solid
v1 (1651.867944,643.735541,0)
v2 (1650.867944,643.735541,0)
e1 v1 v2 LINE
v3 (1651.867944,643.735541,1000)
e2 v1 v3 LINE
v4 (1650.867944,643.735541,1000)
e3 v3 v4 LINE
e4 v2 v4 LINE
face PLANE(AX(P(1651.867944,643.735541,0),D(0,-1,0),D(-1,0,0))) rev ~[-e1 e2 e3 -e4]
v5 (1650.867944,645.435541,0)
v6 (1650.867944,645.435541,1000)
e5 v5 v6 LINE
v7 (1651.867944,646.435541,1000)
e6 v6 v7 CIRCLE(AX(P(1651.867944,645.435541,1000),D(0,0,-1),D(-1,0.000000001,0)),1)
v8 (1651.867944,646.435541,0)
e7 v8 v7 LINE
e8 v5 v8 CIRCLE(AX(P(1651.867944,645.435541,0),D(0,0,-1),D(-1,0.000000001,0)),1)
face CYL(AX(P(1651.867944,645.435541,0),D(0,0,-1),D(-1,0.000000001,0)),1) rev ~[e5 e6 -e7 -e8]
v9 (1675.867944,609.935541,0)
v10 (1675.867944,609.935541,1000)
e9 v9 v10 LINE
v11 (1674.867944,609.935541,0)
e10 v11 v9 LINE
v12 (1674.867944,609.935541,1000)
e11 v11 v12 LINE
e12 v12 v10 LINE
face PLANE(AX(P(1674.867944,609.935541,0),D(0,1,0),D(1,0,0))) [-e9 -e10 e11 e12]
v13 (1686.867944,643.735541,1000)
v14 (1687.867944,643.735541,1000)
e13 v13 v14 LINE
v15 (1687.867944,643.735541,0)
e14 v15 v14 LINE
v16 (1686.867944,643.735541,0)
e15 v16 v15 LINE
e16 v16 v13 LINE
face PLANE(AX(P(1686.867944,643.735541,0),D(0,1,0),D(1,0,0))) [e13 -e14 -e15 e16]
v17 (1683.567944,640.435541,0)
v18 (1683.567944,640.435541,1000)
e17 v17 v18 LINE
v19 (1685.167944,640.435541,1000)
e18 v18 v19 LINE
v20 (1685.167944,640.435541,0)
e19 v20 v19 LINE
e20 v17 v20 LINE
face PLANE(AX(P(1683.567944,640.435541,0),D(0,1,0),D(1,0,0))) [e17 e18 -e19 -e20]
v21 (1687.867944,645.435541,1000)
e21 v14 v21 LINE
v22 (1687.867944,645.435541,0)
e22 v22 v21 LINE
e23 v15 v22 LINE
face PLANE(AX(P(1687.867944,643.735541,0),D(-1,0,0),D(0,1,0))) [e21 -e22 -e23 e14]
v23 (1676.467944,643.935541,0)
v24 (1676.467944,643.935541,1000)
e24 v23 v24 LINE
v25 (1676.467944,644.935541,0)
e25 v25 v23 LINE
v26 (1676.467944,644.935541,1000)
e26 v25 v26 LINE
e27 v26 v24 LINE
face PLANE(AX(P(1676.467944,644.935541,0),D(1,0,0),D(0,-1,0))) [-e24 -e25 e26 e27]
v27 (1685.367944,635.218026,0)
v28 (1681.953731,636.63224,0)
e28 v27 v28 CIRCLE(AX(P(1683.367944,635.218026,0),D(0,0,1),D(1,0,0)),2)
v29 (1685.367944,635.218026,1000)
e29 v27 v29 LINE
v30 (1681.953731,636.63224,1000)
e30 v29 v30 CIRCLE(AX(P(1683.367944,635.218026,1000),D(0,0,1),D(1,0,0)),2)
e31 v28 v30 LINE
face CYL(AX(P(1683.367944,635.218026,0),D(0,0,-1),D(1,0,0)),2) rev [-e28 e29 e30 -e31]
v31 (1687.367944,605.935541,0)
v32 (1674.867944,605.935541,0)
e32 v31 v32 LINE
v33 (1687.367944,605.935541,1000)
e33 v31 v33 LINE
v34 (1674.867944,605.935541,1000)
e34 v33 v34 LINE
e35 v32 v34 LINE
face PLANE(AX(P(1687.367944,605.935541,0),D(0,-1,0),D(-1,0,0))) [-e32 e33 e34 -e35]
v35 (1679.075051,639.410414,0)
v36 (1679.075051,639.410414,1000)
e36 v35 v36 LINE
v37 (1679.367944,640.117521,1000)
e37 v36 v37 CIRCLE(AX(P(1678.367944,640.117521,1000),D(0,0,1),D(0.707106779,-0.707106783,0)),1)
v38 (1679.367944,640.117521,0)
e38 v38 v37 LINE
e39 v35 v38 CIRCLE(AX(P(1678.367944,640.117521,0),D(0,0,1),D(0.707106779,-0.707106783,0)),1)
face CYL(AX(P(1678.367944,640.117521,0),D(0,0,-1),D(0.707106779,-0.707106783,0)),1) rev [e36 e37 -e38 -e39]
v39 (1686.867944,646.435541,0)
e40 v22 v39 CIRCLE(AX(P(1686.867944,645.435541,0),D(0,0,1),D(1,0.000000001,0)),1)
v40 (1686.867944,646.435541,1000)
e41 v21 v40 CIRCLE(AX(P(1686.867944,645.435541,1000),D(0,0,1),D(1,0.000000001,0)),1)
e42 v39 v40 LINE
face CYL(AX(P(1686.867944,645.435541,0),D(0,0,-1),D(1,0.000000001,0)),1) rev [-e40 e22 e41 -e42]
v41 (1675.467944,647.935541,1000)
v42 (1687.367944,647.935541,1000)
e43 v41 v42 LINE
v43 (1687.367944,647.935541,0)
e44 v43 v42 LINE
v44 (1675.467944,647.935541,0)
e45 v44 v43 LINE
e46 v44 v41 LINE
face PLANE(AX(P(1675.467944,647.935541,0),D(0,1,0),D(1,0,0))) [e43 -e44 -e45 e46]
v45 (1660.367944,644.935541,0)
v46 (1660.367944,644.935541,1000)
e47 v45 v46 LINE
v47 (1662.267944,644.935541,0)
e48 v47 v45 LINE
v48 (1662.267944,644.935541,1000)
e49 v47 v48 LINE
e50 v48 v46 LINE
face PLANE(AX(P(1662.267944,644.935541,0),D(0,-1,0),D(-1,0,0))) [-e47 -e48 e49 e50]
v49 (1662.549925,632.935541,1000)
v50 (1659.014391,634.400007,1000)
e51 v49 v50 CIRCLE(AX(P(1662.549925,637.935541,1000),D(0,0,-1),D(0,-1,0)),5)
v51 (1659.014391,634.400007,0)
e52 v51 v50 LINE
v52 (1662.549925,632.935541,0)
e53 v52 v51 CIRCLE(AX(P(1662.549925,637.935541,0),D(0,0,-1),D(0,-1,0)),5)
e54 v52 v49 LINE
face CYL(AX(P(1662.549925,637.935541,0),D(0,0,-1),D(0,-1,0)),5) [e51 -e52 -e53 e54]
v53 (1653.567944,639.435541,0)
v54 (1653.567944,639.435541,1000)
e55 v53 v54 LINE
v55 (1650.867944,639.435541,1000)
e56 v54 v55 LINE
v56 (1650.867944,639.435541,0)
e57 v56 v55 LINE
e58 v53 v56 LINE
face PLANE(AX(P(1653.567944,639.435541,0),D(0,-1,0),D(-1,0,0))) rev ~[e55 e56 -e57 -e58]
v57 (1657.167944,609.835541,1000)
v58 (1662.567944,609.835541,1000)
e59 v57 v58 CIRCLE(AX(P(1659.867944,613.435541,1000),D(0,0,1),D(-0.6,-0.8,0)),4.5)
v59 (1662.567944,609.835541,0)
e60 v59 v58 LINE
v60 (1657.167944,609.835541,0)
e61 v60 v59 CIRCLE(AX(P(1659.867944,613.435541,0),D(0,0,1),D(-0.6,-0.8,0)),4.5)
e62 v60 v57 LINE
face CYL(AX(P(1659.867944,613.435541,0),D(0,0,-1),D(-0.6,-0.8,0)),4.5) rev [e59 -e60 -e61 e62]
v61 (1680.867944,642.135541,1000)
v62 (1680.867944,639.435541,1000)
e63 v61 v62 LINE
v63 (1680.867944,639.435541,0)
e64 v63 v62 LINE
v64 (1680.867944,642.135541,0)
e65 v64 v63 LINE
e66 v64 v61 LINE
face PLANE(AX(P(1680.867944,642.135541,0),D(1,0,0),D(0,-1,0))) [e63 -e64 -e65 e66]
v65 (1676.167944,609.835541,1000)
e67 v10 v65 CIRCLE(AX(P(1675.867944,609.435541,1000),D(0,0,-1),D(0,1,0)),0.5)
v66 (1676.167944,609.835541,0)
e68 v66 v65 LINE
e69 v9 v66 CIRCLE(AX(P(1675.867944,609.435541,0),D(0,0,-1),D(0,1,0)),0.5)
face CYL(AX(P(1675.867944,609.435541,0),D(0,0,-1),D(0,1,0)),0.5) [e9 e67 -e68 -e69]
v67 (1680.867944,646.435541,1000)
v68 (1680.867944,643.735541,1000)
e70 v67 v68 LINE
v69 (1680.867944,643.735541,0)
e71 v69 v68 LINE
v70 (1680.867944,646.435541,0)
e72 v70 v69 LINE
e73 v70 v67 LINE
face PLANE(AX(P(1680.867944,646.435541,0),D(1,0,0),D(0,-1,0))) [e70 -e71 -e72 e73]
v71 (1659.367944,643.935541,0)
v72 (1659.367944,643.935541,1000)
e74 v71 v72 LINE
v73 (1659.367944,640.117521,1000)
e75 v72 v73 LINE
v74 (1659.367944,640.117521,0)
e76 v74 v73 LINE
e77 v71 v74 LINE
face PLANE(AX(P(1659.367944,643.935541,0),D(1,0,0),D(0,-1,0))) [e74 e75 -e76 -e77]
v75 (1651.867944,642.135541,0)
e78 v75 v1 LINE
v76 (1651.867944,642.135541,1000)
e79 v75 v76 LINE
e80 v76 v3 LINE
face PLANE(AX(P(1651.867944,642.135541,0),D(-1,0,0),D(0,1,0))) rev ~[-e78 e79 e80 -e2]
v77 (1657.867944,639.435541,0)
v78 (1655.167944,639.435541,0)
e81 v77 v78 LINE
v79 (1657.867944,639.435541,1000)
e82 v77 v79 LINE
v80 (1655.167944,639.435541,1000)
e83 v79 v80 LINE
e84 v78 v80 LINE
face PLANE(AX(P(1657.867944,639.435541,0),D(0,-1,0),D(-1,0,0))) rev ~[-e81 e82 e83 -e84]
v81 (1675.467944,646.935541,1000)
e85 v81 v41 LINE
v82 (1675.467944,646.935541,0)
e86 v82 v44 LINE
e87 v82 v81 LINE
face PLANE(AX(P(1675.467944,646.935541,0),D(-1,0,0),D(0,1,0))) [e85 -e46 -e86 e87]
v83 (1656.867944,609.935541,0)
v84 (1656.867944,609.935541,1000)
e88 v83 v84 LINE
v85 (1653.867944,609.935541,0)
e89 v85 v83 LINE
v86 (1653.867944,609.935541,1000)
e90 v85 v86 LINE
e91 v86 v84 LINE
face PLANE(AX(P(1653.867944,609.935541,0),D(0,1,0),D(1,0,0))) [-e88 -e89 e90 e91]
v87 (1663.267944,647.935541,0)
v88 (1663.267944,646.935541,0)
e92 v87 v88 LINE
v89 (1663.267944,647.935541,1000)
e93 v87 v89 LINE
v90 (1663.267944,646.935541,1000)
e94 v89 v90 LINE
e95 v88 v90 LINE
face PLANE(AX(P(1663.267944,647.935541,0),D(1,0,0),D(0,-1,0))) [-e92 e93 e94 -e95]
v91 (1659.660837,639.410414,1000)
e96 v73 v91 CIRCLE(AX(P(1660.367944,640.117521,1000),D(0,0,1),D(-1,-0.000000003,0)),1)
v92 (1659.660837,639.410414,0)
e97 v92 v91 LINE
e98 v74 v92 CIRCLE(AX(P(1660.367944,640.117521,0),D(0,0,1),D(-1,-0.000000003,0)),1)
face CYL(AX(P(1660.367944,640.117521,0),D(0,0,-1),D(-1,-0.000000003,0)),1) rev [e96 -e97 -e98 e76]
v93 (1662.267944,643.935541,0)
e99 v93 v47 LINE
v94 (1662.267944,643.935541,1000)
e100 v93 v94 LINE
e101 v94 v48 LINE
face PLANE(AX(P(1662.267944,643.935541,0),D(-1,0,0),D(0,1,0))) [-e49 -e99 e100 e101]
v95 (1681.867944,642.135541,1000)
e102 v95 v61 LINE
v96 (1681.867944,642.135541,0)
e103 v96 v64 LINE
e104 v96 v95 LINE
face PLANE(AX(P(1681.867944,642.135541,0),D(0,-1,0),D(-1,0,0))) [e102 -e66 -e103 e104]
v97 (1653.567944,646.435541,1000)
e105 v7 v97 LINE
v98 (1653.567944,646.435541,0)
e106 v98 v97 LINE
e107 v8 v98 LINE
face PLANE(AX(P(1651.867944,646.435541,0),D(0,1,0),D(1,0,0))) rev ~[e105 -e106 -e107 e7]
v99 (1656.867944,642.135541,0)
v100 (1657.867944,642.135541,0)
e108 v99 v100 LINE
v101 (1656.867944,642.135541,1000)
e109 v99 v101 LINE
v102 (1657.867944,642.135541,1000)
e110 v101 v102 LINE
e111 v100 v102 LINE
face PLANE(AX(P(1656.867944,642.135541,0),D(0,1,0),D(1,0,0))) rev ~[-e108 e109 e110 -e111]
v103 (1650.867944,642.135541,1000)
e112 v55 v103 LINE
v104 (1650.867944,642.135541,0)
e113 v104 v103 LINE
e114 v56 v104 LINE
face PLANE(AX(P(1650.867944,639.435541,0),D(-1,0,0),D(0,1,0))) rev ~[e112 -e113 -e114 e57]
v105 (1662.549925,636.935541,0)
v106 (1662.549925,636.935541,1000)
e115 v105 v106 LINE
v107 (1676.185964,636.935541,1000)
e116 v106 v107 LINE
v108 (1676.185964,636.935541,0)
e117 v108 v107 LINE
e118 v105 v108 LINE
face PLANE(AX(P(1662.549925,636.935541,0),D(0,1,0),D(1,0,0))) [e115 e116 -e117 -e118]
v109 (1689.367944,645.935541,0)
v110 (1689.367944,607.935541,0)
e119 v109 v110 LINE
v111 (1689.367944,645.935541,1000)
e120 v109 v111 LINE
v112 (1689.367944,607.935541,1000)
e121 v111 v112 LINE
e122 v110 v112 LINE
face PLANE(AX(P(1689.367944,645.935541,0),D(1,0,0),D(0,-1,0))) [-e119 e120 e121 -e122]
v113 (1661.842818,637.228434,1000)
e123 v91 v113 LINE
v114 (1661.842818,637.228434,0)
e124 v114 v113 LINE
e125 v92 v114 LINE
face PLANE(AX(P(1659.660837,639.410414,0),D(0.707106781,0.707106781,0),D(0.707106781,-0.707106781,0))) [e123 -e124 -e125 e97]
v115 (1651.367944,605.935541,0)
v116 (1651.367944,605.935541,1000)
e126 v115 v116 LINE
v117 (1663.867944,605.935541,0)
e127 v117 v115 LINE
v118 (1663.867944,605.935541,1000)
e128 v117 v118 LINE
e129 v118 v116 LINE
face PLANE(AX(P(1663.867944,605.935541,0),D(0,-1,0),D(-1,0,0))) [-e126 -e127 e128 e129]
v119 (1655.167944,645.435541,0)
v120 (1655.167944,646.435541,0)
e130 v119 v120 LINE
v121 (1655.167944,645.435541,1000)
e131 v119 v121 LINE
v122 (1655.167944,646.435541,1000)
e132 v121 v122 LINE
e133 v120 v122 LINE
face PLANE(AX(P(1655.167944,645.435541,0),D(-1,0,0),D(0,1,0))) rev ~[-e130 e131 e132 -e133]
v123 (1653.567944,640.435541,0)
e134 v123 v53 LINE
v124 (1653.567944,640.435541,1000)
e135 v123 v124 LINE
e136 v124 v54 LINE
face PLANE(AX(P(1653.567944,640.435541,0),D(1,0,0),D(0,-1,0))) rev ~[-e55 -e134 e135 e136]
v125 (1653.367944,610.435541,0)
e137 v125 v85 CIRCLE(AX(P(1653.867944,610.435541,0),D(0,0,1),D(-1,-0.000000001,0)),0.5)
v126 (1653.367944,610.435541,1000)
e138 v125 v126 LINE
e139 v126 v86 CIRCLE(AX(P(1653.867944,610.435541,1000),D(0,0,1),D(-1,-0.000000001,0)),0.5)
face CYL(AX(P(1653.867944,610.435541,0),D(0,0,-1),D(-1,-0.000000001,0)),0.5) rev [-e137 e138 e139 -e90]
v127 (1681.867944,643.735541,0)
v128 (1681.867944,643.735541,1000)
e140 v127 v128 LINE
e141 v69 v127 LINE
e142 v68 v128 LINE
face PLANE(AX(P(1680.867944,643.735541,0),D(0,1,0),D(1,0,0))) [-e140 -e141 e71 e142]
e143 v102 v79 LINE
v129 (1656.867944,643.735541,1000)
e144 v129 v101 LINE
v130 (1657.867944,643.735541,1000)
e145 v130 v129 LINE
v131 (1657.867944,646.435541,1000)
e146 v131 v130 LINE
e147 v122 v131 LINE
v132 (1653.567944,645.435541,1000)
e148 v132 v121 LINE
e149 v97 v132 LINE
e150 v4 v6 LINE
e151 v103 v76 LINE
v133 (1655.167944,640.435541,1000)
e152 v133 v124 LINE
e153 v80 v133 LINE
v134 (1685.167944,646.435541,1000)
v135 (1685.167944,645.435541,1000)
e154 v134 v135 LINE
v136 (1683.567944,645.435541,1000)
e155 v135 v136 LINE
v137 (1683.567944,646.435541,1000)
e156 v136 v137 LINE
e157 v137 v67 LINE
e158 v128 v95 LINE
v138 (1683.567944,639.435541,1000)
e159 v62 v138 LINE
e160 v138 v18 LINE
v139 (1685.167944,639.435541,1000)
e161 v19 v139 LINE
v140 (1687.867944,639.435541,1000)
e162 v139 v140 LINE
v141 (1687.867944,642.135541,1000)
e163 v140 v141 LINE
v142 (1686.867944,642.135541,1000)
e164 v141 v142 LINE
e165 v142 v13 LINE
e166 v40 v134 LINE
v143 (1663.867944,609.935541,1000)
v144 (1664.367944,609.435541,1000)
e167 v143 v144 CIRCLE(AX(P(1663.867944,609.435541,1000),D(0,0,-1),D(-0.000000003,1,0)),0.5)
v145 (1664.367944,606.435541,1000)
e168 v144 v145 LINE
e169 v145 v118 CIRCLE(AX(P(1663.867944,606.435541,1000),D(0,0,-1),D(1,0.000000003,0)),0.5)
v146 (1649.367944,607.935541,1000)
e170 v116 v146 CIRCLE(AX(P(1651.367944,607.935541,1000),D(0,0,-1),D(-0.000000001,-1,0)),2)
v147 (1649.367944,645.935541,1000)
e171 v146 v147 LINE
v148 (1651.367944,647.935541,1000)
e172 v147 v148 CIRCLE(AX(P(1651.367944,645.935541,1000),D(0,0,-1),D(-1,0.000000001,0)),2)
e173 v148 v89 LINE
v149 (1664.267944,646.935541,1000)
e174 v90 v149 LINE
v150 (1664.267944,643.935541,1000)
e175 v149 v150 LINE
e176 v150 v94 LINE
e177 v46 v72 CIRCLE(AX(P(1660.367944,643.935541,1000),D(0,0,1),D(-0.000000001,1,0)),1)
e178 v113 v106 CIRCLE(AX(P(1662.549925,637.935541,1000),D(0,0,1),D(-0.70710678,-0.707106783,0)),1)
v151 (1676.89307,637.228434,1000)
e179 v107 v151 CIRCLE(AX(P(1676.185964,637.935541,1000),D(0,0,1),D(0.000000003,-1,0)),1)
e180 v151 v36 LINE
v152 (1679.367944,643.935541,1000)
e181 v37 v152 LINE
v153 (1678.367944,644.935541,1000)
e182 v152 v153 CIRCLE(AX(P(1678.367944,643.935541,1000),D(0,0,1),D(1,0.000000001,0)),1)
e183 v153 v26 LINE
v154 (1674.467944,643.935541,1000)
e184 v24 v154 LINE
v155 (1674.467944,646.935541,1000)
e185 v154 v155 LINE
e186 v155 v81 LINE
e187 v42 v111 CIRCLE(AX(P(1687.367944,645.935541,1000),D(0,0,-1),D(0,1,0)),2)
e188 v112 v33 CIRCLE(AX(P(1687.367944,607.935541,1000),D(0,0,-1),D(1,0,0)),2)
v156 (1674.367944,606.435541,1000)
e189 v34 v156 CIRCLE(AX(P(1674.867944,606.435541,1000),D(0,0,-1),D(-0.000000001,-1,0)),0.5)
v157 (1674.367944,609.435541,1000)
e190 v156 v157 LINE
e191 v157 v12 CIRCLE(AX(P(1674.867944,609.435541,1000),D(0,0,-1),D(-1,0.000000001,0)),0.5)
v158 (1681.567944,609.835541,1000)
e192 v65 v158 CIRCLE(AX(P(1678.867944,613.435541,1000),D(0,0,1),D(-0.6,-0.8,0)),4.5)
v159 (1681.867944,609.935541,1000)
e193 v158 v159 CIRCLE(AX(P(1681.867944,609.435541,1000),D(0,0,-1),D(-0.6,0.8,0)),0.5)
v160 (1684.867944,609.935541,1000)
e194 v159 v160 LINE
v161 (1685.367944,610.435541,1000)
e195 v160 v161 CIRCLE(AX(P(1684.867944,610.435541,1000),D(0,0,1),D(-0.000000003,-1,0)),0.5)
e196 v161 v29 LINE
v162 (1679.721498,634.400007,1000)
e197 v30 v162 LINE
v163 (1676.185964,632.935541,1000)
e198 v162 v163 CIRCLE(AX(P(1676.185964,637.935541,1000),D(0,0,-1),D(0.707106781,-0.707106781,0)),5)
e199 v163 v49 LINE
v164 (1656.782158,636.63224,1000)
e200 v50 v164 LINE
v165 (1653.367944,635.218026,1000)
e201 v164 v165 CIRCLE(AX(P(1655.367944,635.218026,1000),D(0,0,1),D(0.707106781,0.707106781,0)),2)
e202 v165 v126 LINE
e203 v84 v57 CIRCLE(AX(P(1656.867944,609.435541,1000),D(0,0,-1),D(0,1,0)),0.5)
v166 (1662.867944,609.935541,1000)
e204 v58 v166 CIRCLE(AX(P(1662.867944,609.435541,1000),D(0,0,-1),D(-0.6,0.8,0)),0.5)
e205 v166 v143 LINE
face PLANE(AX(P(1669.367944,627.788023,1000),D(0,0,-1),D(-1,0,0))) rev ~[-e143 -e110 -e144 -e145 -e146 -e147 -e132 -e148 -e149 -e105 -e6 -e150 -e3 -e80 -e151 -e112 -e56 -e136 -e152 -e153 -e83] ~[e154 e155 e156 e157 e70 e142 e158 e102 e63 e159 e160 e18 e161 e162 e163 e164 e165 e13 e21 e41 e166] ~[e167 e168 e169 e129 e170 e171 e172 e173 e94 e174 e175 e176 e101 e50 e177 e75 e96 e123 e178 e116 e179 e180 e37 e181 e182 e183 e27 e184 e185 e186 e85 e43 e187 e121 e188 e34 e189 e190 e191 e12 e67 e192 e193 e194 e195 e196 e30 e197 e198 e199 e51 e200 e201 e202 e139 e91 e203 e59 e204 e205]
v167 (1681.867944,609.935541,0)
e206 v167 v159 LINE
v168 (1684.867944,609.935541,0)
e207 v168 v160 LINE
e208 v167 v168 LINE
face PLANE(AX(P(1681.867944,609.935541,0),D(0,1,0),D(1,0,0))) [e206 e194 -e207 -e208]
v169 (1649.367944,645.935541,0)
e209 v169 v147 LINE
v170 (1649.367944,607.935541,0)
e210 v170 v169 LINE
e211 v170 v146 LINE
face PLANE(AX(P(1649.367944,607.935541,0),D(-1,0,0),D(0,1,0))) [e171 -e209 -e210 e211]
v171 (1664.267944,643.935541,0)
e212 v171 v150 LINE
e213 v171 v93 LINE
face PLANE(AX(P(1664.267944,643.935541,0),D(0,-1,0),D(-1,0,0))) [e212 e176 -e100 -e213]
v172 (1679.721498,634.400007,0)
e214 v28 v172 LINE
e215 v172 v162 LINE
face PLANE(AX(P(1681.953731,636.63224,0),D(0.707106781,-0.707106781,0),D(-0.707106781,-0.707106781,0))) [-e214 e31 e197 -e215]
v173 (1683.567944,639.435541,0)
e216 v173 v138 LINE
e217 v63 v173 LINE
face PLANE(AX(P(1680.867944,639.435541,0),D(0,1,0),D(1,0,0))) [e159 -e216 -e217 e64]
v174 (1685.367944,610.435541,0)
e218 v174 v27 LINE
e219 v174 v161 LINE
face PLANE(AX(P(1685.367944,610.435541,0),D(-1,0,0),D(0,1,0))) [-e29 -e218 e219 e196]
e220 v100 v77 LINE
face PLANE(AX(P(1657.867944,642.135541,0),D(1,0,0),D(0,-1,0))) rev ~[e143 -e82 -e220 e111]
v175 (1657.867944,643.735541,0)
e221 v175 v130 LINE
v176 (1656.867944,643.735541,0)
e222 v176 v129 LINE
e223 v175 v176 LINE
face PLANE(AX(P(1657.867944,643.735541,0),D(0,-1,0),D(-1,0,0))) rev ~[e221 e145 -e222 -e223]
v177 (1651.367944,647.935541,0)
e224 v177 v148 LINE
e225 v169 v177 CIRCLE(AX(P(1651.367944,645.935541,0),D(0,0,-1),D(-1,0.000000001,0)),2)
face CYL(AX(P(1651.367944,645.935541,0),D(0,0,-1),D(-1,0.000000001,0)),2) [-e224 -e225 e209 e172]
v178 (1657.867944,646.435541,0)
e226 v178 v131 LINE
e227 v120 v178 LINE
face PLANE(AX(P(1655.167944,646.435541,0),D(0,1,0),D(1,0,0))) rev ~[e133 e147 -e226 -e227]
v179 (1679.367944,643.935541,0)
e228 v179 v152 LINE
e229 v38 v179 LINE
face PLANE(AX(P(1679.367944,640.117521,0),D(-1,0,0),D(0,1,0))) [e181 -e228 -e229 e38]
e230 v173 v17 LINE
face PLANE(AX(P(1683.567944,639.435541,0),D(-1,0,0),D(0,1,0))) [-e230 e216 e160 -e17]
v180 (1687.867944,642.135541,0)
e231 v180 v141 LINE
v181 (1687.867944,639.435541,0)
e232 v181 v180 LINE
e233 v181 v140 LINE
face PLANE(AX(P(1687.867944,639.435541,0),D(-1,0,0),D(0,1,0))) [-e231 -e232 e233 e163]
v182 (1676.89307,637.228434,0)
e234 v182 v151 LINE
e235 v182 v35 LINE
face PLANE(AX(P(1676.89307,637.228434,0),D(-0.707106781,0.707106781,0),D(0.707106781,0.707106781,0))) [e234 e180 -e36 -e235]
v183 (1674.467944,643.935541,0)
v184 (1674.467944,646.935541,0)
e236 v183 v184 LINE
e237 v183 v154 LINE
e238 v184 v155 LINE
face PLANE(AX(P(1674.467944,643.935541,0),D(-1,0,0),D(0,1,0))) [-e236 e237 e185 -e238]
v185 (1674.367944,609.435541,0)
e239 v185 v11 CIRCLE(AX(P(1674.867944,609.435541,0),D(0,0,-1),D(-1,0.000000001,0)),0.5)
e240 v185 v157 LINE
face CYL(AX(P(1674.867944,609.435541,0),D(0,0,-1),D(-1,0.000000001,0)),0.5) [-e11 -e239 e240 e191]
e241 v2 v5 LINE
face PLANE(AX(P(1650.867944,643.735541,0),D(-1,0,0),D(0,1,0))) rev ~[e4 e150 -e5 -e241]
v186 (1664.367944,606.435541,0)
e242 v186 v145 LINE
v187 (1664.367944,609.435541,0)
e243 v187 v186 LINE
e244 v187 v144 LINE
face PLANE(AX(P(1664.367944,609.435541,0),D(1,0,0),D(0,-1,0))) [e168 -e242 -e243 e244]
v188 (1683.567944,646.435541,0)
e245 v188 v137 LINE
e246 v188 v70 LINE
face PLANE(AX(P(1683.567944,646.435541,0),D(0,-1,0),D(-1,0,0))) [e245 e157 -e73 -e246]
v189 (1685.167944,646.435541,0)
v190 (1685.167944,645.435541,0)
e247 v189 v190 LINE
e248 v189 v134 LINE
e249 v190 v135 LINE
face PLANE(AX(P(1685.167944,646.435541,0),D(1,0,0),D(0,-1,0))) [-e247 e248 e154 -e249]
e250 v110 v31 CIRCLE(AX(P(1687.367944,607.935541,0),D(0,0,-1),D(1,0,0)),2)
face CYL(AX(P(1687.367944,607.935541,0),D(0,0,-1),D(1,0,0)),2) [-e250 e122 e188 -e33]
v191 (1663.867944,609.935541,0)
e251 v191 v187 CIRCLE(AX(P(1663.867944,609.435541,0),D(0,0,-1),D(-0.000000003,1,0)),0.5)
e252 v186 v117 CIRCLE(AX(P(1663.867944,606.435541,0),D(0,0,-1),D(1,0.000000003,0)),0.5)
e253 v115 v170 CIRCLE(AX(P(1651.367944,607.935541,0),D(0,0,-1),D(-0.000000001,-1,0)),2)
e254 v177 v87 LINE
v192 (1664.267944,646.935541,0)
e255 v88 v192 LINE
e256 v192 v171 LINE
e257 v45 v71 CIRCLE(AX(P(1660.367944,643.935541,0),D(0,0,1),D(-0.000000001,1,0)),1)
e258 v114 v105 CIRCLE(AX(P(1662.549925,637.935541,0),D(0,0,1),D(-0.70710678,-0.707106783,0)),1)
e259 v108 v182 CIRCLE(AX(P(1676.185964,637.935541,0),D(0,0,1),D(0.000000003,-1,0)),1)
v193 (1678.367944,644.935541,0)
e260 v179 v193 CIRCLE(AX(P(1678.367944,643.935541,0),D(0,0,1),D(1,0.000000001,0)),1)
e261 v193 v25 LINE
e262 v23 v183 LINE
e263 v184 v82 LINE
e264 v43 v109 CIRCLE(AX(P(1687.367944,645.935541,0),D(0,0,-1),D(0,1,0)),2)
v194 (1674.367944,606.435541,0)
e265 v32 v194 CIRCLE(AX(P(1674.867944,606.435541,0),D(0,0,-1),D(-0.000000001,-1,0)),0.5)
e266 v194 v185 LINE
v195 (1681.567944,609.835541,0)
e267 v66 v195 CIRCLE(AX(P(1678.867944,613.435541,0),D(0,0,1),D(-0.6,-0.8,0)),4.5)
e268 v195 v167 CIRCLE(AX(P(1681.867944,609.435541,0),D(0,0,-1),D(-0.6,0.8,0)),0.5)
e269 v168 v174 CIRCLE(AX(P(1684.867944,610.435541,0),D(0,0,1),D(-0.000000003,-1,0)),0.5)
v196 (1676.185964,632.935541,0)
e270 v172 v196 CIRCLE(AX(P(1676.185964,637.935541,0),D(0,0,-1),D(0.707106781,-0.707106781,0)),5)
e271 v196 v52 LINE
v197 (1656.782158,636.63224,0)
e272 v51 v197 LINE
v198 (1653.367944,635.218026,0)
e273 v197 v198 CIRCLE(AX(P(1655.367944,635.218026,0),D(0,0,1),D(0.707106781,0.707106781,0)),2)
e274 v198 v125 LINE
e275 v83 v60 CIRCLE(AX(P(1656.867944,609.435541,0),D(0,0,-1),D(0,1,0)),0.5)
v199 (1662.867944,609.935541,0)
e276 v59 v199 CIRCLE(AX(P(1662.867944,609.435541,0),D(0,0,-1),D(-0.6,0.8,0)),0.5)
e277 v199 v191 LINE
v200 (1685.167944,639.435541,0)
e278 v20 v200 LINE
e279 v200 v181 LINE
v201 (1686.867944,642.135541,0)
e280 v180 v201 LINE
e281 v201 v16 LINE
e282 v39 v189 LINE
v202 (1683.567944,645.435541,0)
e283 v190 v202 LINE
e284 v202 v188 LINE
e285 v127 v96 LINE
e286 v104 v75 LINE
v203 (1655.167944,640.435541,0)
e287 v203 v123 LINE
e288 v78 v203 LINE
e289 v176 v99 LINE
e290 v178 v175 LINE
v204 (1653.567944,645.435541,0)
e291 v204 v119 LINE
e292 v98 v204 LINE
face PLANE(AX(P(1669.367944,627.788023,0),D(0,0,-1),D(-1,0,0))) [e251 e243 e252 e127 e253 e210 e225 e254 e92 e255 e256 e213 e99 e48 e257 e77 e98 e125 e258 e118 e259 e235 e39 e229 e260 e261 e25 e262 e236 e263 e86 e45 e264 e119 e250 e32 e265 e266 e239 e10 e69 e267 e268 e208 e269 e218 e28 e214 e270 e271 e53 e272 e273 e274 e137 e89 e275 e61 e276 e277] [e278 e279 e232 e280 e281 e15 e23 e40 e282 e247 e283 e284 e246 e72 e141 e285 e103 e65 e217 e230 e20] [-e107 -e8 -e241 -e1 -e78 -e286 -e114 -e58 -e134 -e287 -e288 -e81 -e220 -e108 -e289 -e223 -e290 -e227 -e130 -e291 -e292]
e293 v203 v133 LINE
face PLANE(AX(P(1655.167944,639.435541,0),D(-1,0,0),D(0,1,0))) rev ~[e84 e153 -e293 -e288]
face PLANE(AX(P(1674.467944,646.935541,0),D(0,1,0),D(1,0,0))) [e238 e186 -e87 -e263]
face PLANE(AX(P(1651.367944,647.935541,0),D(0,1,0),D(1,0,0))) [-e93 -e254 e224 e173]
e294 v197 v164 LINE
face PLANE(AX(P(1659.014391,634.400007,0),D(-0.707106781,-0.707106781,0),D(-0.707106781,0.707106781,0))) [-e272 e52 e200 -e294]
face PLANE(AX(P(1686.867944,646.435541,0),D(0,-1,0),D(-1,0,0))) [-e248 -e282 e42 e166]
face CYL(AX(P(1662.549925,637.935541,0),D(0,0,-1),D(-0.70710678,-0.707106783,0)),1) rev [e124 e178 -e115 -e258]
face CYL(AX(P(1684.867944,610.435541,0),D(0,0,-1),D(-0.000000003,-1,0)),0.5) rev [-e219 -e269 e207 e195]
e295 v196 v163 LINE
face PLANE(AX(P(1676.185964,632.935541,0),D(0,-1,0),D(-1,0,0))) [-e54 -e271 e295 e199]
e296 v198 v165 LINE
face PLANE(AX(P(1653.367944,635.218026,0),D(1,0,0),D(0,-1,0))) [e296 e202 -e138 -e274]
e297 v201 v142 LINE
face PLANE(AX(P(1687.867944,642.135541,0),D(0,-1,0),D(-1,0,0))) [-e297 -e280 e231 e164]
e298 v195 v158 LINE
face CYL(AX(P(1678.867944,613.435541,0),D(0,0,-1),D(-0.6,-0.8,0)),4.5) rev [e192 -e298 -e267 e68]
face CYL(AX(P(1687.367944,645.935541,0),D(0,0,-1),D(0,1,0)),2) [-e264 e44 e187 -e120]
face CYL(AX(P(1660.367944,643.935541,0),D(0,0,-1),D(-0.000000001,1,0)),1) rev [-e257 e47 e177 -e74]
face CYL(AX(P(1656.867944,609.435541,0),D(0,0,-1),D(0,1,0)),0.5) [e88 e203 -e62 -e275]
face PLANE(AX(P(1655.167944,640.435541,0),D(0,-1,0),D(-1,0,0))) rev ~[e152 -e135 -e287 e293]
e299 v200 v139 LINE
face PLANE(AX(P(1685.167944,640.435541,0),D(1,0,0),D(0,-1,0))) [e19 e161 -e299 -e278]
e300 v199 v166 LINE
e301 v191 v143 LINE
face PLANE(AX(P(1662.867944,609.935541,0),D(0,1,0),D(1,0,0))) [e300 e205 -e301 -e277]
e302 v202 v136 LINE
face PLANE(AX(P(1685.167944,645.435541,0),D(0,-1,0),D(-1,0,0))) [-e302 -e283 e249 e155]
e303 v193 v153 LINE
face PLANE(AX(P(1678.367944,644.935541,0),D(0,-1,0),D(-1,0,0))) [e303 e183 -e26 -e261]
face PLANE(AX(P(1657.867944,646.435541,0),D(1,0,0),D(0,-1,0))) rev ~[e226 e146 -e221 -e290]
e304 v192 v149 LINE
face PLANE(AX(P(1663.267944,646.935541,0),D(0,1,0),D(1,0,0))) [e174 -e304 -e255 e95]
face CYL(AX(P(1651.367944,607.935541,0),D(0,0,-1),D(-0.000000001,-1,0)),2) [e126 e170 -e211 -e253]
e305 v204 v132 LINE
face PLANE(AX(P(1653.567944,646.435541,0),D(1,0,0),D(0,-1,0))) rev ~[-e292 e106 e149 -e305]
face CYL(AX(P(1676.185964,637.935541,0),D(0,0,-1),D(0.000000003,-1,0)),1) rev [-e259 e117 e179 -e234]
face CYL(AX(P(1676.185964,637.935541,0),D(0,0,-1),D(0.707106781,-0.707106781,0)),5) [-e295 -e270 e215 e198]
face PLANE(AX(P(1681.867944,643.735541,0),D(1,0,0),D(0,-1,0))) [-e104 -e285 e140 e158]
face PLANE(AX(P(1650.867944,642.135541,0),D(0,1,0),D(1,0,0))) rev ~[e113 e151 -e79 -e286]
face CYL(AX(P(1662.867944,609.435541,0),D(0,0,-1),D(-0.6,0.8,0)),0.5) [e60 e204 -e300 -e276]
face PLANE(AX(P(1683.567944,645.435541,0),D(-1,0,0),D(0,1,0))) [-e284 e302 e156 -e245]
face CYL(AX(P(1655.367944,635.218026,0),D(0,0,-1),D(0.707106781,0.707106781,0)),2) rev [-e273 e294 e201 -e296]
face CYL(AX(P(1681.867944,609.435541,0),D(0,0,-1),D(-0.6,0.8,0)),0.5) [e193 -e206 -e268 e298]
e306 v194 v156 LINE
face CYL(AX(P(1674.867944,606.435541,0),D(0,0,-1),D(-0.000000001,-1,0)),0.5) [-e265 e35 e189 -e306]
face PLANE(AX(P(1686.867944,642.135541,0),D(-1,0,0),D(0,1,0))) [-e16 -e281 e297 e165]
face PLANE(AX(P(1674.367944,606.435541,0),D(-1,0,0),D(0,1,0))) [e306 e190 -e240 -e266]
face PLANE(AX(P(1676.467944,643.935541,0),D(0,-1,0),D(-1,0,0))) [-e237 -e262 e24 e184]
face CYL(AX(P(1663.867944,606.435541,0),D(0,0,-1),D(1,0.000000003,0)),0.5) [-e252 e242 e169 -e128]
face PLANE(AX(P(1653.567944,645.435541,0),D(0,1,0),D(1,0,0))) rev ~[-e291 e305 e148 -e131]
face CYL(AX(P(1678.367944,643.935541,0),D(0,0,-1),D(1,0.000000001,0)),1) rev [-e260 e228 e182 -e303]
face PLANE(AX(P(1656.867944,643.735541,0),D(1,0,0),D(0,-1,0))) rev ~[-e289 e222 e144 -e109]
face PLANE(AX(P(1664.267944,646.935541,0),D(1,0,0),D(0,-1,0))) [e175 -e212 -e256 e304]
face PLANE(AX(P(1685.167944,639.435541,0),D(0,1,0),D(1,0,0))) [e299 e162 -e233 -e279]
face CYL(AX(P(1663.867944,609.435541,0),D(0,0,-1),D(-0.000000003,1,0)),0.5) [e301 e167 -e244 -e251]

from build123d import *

# Parameters (mm, degrees)
EXTRUDE_1_DEPTH = 1000


with BuildPart() as part:
    # Model → 凸台-拉伸1 (new body)
    with BuildSketch(Plane.XY):
        with BuildLine():
            Line((1653.86794414, 609.935540563), (1656.86794414, 609.935540563))
            ThreePointArc((1656.86794414, 609.935540563), (1657.026058023, 609.909882212), (1657.16794414, 609.835540563))
            ThreePointArc((1657.16794414, 609.835540563), (1659.86794414, 608.935540563), (1662.56794414, 609.835540563))
            ThreePointArc((1662.56794414, 609.835540563), (1662.709830257, 609.909882212), (1662.86794414, 609.935540563))
            Line((1662.86794414, 609.935540563), (1663.86794414, 609.935540563))
            ThreePointArc((1663.86794414, 609.935540563), (1664.221497531, 609.789093954), (1664.36794414, 609.435540563))
            Line((1664.36794414, 609.435540563), (1664.36794414, 606.435540563))
            ThreePointArc((1664.36794414, 606.435540563), (1664.221497531, 606.081987172), (1663.86794414, 605.935540563))
            Line((1663.86794414, 605.935540563), (1651.36794414, 605.935540563))
            ThreePointArc((1651.36794414, 605.935540563), (1649.953730578, 606.521327001), (1649.36794414, 607.935540563))
            Line((1649.36794414, 607.935540563), (1649.36794414, 645.935540563))
            ThreePointArc((1649.36794414, 645.935540563), (1649.953730578, 647.349754125), (1651.36794414, 647.935540563))
            Line((1651.36794414, 647.935540563), (1663.26794414, 647.935540563))
            Line((1663.26794414, 647.935540563), (1663.26794414, 646.935540563))
            Line((1663.26794414, 646.935540563), (1664.26794414, 646.935540563))
            Line((1664.26794414, 646.935540563), (1664.26794414, 643.935540563))
            Line((1664.26794414, 643.935540563), (1662.26794414, 643.935540563))
            Line((1662.26794414, 643.935540563), (1662.26794414, 644.935540563))
            Line((1662.26794414, 644.935540563), (1660.36794414, 644.935540563))
            ThreePointArc((1660.36794414, 644.935540563), (1659.660837359, 644.642647344), (1659.36794414, 643.935540563))
            Line((1659.36794414, 643.935540563), (1659.36794414, 640.117521078))
            ThreePointArc((1659.36794414, 640.117521078), (1659.444064608, 639.734837646), (1659.660837359, 639.410414297))
            Line((1659.660837359, 639.410414297), (1661.842817874, 637.228433782))
            ThreePointArc((1661.842817874, 637.228433782), (1662.167241223, 637.011661031), (1662.549924656, 636.935540563))
            Line((1662.549924656, 636.935540563), (1676.185963625, 636.935540563))
            ThreePointArc((1676.185963625, 636.935540563), (1676.568647057, 637.011661031), (1676.893070406, 637.228433782))
            Line((1676.893070406, 637.228433782), (1679.075050921, 639.410414297))
            ThreePointArc((1679.075050921, 639.410414297), (1679.291823673, 639.734837646), (1679.36794414, 640.117521078))
            Line((1679.36794414, 640.117521078), (1679.36794414, 643.935540563))
            ThreePointArc((1679.36794414, 643.935540563), (1679.075050921, 644.642647344), (1678.36794414, 644.935540563))
            Line((1678.36794414, 644.935540563), (1676.46794414, 644.935540563))
            Line((1676.46794414, 644.935540563), (1676.46794414, 643.935540563))
            Line((1676.46794414, 643.935540563), (1674.46794414, 643.935540563))
            Line((1674.46794414, 643.935540563), (1674.46794414, 646.935540563))
            Line((1674.46794414, 646.935540563), (1675.46794414, 646.935540563))
            Line((1675.46794414, 646.935540563), (1675.46794414, 647.935540563))
            Line((1675.46794414, 647.935540563), (1687.36794414, 647.935540563))
            ThreePointArc((1687.36794414, 647.935540563), (1688.782157703, 647.349754125), (1689.36794414, 645.935540563))
            Line((1689.36794414, 645.935540563), (1689.36794414, 607.935540563))
            ThreePointArc((1689.36794414, 607.935540563), (1688.782157703, 606.521327001), (1687.36794414, 605.935540563))
            Line((1687.36794414, 605.935540563), (1674.86794414, 605.935540563))
            ThreePointArc((1674.86794414, 605.935540563), (1674.51439075, 606.081987172), (1674.36794414, 606.435540563))
            Line((1674.36794414, 606.435540563), (1674.36794414, 609.435540563))
            ThreePointArc((1674.36794414, 609.435540563), (1674.51439075, 609.789093954), (1674.86794414, 609.935540563))
            Line((1674.86794414, 609.935540563), (1675.86794414, 609.935540563))
            ThreePointArc((1675.86794414, 609.935540563), (1676.026058023, 609.909882212), (1676.16794414, 609.835540563))
            ThreePointArc((1676.16794414, 609.835540563), (1678.86794414, 608.935540563), (1681.56794414, 609.835540563))
            ThreePointArc((1681.56794414, 609.835540563), (1681.709830257, 609.909882212), (1681.86794414, 609.935540563))
            Line((1681.86794414, 609.935540563), (1684.86794414, 609.935540563))
            ThreePointArc((1684.86794414, 609.935540563), (1685.221497531, 610.081987172), (1685.36794414, 610.435540563))
            Line((1685.36794414, 610.435540563), (1685.36794414, 635.218026142))
            ThreePointArc((1685.36794414, 635.218026142), (1684.133311005, 637.065785207), (1681.953730578, 636.632239704))
            Line((1681.953730578, 636.632239704), (1679.721497531, 634.400006657))
            ThreePointArc((1679.721497531, 634.400006657), (1678.099380787, 633.3161429), (1676.185963625, 632.935540563))
            Line((1676.185963625, 632.935540563), (1662.549924656, 632.935540563))
            ThreePointArc((1662.549924656, 632.935540563), (1660.636507494, 633.3161429), (1659.01439075, 634.400006657))
            Line((1659.01439075, 634.400006657), (1656.782157703, 636.632239704))
            ThreePointArc((1656.782157703, 636.632239704), (1654.602577276, 637.065785207), (1653.36794414, 635.218026142))
            Line((1653.36794414, 635.218026142), (1653.36794414, 610.435540563))
            ThreePointArc((1653.36794414, 610.435540563), (1653.51439075, 610.081987172), (1653.86794414, 609.935540563))
        make_face()
        with BuildLine():
            Line((1657.86794414, 639.435540563), (1655.16794414, 639.435540563))
            Line((1655.16794414, 639.435540563), (1655.16794414, 640.435540563))
            Line((1655.16794414, 640.435540563), (1653.56794414, 640.435540563))
            Line((1653.56794414, 640.435540563), (1653.56794414, 639.435540563))
            Line((1653.56794414, 639.435540563), (1650.86794414, 639.435540563))
            Line((1650.86794414, 639.435540563), (1650.86794414, 642.135540563))
            Line((1650.86794414, 642.135540563), (1651.86794414, 642.135540563))
            Line((1651.86794414, 642.135540563), (1651.86794414, 643.735540563))
            Line((1651.86794414, 643.735540563), (1650.86794414, 643.735540563))
            Line((1650.86794414, 643.735540563), (1650.86794414, 645.435540563))
            ThreePointArc((1650.86794414, 645.435540563), (1651.160837359, 646.142647344), (1651.86794414, 646.435540563))
            Line((1651.86794414, 646.435540563), (1653.56794414, 646.435540563))
            Line((1653.56794414, 646.435540563), (1653.56794414, 645.435540563))
            Line((1653.56794414, 645.435540563), (1655.16794414, 645.435540563))
            Line((1655.16794414, 645.435540563), (1655.16794414, 646.435540563))
            Line((1655.16794414, 646.435540563), (1657.86794414, 646.435540563))
            Line((1657.86794414, 646.435540563), (1657.86794414, 643.735540563))
            Line((1657.86794414, 643.735540563), (1656.86794414, 643.735540563))
            Line((1656.86794414, 643.735540563), (1656.86794414, 642.135540563))
            Line((1656.86794414, 642.135540563), (1657.86794414, 642.135540563))
            Line((1657.86794414, 642.135540563), (1657.86794414, 639.435540563))
        make_face(mode=Mode.SUBTRACT)
        with BuildLine():
            Line((1686.86794414, 643.735540563), (1687.86794414, 643.735540563))
            Line((1687.86794414, 643.735540563), (1687.86794414, 645.435540563))
            ThreePointArc((1687.86794414, 645.435540563), (1687.575050921, 646.142647344), (1686.86794414, 646.435540563))
            Line((1686.86794414, 646.435540563), (1685.16794414, 646.435540563))
            Line((1685.16794414, 646.435540563), (1685.16794414, 645.435540563))
            Line((1685.16794414, 645.435540563), (1683.56794414, 645.435540563))
            Line((1683.56794414, 645.435540563), (1683.56794414, 646.435540563))
            Line((1683.56794414, 646.435540563), (1680.86794414, 646.435540563))
            Line((1680.86794414, 646.435540563), (1680.86794414, 643.735540563))
            Line((1680.86794414, 643.735540563), (1681.86794414, 643.735540563))
            Line((1681.86794414, 643.735540563), (1681.86794414, 642.135540563))
            Line((1681.86794414, 642.135540563), (1680.86794414, 642.135540563))
            Line((1680.86794414, 642.135540563), (1680.86794414, 639.435540563))
            Line((1680.86794414, 639.435540563), (1683.56794414, 639.435540563))
            Line((1683.56794414, 639.435540563), (1683.56794414, 640.435540563))
            Line((1683.56794414, 640.435540563), (1685.16794414, 640.435540563))
            Line((1685.16794414, 640.435540563), (1685.16794414, 639.435540563))
            Line((1685.16794414, 639.435540563), (1687.86794414, 639.435540563))
            Line((1687.86794414, 639.435540563), (1687.86794414, 642.135540563))
            Line((1687.86794414, 642.135540563), (1686.86794414, 642.135540563))
            Line((1686.86794414, 642.135540563), (1686.86794414, 643.735540563))
        make_face(mode=Mode.SUBTRACT)
    extrude(amount=EXTRUDE_1_DEPTH)


solid = part.part
